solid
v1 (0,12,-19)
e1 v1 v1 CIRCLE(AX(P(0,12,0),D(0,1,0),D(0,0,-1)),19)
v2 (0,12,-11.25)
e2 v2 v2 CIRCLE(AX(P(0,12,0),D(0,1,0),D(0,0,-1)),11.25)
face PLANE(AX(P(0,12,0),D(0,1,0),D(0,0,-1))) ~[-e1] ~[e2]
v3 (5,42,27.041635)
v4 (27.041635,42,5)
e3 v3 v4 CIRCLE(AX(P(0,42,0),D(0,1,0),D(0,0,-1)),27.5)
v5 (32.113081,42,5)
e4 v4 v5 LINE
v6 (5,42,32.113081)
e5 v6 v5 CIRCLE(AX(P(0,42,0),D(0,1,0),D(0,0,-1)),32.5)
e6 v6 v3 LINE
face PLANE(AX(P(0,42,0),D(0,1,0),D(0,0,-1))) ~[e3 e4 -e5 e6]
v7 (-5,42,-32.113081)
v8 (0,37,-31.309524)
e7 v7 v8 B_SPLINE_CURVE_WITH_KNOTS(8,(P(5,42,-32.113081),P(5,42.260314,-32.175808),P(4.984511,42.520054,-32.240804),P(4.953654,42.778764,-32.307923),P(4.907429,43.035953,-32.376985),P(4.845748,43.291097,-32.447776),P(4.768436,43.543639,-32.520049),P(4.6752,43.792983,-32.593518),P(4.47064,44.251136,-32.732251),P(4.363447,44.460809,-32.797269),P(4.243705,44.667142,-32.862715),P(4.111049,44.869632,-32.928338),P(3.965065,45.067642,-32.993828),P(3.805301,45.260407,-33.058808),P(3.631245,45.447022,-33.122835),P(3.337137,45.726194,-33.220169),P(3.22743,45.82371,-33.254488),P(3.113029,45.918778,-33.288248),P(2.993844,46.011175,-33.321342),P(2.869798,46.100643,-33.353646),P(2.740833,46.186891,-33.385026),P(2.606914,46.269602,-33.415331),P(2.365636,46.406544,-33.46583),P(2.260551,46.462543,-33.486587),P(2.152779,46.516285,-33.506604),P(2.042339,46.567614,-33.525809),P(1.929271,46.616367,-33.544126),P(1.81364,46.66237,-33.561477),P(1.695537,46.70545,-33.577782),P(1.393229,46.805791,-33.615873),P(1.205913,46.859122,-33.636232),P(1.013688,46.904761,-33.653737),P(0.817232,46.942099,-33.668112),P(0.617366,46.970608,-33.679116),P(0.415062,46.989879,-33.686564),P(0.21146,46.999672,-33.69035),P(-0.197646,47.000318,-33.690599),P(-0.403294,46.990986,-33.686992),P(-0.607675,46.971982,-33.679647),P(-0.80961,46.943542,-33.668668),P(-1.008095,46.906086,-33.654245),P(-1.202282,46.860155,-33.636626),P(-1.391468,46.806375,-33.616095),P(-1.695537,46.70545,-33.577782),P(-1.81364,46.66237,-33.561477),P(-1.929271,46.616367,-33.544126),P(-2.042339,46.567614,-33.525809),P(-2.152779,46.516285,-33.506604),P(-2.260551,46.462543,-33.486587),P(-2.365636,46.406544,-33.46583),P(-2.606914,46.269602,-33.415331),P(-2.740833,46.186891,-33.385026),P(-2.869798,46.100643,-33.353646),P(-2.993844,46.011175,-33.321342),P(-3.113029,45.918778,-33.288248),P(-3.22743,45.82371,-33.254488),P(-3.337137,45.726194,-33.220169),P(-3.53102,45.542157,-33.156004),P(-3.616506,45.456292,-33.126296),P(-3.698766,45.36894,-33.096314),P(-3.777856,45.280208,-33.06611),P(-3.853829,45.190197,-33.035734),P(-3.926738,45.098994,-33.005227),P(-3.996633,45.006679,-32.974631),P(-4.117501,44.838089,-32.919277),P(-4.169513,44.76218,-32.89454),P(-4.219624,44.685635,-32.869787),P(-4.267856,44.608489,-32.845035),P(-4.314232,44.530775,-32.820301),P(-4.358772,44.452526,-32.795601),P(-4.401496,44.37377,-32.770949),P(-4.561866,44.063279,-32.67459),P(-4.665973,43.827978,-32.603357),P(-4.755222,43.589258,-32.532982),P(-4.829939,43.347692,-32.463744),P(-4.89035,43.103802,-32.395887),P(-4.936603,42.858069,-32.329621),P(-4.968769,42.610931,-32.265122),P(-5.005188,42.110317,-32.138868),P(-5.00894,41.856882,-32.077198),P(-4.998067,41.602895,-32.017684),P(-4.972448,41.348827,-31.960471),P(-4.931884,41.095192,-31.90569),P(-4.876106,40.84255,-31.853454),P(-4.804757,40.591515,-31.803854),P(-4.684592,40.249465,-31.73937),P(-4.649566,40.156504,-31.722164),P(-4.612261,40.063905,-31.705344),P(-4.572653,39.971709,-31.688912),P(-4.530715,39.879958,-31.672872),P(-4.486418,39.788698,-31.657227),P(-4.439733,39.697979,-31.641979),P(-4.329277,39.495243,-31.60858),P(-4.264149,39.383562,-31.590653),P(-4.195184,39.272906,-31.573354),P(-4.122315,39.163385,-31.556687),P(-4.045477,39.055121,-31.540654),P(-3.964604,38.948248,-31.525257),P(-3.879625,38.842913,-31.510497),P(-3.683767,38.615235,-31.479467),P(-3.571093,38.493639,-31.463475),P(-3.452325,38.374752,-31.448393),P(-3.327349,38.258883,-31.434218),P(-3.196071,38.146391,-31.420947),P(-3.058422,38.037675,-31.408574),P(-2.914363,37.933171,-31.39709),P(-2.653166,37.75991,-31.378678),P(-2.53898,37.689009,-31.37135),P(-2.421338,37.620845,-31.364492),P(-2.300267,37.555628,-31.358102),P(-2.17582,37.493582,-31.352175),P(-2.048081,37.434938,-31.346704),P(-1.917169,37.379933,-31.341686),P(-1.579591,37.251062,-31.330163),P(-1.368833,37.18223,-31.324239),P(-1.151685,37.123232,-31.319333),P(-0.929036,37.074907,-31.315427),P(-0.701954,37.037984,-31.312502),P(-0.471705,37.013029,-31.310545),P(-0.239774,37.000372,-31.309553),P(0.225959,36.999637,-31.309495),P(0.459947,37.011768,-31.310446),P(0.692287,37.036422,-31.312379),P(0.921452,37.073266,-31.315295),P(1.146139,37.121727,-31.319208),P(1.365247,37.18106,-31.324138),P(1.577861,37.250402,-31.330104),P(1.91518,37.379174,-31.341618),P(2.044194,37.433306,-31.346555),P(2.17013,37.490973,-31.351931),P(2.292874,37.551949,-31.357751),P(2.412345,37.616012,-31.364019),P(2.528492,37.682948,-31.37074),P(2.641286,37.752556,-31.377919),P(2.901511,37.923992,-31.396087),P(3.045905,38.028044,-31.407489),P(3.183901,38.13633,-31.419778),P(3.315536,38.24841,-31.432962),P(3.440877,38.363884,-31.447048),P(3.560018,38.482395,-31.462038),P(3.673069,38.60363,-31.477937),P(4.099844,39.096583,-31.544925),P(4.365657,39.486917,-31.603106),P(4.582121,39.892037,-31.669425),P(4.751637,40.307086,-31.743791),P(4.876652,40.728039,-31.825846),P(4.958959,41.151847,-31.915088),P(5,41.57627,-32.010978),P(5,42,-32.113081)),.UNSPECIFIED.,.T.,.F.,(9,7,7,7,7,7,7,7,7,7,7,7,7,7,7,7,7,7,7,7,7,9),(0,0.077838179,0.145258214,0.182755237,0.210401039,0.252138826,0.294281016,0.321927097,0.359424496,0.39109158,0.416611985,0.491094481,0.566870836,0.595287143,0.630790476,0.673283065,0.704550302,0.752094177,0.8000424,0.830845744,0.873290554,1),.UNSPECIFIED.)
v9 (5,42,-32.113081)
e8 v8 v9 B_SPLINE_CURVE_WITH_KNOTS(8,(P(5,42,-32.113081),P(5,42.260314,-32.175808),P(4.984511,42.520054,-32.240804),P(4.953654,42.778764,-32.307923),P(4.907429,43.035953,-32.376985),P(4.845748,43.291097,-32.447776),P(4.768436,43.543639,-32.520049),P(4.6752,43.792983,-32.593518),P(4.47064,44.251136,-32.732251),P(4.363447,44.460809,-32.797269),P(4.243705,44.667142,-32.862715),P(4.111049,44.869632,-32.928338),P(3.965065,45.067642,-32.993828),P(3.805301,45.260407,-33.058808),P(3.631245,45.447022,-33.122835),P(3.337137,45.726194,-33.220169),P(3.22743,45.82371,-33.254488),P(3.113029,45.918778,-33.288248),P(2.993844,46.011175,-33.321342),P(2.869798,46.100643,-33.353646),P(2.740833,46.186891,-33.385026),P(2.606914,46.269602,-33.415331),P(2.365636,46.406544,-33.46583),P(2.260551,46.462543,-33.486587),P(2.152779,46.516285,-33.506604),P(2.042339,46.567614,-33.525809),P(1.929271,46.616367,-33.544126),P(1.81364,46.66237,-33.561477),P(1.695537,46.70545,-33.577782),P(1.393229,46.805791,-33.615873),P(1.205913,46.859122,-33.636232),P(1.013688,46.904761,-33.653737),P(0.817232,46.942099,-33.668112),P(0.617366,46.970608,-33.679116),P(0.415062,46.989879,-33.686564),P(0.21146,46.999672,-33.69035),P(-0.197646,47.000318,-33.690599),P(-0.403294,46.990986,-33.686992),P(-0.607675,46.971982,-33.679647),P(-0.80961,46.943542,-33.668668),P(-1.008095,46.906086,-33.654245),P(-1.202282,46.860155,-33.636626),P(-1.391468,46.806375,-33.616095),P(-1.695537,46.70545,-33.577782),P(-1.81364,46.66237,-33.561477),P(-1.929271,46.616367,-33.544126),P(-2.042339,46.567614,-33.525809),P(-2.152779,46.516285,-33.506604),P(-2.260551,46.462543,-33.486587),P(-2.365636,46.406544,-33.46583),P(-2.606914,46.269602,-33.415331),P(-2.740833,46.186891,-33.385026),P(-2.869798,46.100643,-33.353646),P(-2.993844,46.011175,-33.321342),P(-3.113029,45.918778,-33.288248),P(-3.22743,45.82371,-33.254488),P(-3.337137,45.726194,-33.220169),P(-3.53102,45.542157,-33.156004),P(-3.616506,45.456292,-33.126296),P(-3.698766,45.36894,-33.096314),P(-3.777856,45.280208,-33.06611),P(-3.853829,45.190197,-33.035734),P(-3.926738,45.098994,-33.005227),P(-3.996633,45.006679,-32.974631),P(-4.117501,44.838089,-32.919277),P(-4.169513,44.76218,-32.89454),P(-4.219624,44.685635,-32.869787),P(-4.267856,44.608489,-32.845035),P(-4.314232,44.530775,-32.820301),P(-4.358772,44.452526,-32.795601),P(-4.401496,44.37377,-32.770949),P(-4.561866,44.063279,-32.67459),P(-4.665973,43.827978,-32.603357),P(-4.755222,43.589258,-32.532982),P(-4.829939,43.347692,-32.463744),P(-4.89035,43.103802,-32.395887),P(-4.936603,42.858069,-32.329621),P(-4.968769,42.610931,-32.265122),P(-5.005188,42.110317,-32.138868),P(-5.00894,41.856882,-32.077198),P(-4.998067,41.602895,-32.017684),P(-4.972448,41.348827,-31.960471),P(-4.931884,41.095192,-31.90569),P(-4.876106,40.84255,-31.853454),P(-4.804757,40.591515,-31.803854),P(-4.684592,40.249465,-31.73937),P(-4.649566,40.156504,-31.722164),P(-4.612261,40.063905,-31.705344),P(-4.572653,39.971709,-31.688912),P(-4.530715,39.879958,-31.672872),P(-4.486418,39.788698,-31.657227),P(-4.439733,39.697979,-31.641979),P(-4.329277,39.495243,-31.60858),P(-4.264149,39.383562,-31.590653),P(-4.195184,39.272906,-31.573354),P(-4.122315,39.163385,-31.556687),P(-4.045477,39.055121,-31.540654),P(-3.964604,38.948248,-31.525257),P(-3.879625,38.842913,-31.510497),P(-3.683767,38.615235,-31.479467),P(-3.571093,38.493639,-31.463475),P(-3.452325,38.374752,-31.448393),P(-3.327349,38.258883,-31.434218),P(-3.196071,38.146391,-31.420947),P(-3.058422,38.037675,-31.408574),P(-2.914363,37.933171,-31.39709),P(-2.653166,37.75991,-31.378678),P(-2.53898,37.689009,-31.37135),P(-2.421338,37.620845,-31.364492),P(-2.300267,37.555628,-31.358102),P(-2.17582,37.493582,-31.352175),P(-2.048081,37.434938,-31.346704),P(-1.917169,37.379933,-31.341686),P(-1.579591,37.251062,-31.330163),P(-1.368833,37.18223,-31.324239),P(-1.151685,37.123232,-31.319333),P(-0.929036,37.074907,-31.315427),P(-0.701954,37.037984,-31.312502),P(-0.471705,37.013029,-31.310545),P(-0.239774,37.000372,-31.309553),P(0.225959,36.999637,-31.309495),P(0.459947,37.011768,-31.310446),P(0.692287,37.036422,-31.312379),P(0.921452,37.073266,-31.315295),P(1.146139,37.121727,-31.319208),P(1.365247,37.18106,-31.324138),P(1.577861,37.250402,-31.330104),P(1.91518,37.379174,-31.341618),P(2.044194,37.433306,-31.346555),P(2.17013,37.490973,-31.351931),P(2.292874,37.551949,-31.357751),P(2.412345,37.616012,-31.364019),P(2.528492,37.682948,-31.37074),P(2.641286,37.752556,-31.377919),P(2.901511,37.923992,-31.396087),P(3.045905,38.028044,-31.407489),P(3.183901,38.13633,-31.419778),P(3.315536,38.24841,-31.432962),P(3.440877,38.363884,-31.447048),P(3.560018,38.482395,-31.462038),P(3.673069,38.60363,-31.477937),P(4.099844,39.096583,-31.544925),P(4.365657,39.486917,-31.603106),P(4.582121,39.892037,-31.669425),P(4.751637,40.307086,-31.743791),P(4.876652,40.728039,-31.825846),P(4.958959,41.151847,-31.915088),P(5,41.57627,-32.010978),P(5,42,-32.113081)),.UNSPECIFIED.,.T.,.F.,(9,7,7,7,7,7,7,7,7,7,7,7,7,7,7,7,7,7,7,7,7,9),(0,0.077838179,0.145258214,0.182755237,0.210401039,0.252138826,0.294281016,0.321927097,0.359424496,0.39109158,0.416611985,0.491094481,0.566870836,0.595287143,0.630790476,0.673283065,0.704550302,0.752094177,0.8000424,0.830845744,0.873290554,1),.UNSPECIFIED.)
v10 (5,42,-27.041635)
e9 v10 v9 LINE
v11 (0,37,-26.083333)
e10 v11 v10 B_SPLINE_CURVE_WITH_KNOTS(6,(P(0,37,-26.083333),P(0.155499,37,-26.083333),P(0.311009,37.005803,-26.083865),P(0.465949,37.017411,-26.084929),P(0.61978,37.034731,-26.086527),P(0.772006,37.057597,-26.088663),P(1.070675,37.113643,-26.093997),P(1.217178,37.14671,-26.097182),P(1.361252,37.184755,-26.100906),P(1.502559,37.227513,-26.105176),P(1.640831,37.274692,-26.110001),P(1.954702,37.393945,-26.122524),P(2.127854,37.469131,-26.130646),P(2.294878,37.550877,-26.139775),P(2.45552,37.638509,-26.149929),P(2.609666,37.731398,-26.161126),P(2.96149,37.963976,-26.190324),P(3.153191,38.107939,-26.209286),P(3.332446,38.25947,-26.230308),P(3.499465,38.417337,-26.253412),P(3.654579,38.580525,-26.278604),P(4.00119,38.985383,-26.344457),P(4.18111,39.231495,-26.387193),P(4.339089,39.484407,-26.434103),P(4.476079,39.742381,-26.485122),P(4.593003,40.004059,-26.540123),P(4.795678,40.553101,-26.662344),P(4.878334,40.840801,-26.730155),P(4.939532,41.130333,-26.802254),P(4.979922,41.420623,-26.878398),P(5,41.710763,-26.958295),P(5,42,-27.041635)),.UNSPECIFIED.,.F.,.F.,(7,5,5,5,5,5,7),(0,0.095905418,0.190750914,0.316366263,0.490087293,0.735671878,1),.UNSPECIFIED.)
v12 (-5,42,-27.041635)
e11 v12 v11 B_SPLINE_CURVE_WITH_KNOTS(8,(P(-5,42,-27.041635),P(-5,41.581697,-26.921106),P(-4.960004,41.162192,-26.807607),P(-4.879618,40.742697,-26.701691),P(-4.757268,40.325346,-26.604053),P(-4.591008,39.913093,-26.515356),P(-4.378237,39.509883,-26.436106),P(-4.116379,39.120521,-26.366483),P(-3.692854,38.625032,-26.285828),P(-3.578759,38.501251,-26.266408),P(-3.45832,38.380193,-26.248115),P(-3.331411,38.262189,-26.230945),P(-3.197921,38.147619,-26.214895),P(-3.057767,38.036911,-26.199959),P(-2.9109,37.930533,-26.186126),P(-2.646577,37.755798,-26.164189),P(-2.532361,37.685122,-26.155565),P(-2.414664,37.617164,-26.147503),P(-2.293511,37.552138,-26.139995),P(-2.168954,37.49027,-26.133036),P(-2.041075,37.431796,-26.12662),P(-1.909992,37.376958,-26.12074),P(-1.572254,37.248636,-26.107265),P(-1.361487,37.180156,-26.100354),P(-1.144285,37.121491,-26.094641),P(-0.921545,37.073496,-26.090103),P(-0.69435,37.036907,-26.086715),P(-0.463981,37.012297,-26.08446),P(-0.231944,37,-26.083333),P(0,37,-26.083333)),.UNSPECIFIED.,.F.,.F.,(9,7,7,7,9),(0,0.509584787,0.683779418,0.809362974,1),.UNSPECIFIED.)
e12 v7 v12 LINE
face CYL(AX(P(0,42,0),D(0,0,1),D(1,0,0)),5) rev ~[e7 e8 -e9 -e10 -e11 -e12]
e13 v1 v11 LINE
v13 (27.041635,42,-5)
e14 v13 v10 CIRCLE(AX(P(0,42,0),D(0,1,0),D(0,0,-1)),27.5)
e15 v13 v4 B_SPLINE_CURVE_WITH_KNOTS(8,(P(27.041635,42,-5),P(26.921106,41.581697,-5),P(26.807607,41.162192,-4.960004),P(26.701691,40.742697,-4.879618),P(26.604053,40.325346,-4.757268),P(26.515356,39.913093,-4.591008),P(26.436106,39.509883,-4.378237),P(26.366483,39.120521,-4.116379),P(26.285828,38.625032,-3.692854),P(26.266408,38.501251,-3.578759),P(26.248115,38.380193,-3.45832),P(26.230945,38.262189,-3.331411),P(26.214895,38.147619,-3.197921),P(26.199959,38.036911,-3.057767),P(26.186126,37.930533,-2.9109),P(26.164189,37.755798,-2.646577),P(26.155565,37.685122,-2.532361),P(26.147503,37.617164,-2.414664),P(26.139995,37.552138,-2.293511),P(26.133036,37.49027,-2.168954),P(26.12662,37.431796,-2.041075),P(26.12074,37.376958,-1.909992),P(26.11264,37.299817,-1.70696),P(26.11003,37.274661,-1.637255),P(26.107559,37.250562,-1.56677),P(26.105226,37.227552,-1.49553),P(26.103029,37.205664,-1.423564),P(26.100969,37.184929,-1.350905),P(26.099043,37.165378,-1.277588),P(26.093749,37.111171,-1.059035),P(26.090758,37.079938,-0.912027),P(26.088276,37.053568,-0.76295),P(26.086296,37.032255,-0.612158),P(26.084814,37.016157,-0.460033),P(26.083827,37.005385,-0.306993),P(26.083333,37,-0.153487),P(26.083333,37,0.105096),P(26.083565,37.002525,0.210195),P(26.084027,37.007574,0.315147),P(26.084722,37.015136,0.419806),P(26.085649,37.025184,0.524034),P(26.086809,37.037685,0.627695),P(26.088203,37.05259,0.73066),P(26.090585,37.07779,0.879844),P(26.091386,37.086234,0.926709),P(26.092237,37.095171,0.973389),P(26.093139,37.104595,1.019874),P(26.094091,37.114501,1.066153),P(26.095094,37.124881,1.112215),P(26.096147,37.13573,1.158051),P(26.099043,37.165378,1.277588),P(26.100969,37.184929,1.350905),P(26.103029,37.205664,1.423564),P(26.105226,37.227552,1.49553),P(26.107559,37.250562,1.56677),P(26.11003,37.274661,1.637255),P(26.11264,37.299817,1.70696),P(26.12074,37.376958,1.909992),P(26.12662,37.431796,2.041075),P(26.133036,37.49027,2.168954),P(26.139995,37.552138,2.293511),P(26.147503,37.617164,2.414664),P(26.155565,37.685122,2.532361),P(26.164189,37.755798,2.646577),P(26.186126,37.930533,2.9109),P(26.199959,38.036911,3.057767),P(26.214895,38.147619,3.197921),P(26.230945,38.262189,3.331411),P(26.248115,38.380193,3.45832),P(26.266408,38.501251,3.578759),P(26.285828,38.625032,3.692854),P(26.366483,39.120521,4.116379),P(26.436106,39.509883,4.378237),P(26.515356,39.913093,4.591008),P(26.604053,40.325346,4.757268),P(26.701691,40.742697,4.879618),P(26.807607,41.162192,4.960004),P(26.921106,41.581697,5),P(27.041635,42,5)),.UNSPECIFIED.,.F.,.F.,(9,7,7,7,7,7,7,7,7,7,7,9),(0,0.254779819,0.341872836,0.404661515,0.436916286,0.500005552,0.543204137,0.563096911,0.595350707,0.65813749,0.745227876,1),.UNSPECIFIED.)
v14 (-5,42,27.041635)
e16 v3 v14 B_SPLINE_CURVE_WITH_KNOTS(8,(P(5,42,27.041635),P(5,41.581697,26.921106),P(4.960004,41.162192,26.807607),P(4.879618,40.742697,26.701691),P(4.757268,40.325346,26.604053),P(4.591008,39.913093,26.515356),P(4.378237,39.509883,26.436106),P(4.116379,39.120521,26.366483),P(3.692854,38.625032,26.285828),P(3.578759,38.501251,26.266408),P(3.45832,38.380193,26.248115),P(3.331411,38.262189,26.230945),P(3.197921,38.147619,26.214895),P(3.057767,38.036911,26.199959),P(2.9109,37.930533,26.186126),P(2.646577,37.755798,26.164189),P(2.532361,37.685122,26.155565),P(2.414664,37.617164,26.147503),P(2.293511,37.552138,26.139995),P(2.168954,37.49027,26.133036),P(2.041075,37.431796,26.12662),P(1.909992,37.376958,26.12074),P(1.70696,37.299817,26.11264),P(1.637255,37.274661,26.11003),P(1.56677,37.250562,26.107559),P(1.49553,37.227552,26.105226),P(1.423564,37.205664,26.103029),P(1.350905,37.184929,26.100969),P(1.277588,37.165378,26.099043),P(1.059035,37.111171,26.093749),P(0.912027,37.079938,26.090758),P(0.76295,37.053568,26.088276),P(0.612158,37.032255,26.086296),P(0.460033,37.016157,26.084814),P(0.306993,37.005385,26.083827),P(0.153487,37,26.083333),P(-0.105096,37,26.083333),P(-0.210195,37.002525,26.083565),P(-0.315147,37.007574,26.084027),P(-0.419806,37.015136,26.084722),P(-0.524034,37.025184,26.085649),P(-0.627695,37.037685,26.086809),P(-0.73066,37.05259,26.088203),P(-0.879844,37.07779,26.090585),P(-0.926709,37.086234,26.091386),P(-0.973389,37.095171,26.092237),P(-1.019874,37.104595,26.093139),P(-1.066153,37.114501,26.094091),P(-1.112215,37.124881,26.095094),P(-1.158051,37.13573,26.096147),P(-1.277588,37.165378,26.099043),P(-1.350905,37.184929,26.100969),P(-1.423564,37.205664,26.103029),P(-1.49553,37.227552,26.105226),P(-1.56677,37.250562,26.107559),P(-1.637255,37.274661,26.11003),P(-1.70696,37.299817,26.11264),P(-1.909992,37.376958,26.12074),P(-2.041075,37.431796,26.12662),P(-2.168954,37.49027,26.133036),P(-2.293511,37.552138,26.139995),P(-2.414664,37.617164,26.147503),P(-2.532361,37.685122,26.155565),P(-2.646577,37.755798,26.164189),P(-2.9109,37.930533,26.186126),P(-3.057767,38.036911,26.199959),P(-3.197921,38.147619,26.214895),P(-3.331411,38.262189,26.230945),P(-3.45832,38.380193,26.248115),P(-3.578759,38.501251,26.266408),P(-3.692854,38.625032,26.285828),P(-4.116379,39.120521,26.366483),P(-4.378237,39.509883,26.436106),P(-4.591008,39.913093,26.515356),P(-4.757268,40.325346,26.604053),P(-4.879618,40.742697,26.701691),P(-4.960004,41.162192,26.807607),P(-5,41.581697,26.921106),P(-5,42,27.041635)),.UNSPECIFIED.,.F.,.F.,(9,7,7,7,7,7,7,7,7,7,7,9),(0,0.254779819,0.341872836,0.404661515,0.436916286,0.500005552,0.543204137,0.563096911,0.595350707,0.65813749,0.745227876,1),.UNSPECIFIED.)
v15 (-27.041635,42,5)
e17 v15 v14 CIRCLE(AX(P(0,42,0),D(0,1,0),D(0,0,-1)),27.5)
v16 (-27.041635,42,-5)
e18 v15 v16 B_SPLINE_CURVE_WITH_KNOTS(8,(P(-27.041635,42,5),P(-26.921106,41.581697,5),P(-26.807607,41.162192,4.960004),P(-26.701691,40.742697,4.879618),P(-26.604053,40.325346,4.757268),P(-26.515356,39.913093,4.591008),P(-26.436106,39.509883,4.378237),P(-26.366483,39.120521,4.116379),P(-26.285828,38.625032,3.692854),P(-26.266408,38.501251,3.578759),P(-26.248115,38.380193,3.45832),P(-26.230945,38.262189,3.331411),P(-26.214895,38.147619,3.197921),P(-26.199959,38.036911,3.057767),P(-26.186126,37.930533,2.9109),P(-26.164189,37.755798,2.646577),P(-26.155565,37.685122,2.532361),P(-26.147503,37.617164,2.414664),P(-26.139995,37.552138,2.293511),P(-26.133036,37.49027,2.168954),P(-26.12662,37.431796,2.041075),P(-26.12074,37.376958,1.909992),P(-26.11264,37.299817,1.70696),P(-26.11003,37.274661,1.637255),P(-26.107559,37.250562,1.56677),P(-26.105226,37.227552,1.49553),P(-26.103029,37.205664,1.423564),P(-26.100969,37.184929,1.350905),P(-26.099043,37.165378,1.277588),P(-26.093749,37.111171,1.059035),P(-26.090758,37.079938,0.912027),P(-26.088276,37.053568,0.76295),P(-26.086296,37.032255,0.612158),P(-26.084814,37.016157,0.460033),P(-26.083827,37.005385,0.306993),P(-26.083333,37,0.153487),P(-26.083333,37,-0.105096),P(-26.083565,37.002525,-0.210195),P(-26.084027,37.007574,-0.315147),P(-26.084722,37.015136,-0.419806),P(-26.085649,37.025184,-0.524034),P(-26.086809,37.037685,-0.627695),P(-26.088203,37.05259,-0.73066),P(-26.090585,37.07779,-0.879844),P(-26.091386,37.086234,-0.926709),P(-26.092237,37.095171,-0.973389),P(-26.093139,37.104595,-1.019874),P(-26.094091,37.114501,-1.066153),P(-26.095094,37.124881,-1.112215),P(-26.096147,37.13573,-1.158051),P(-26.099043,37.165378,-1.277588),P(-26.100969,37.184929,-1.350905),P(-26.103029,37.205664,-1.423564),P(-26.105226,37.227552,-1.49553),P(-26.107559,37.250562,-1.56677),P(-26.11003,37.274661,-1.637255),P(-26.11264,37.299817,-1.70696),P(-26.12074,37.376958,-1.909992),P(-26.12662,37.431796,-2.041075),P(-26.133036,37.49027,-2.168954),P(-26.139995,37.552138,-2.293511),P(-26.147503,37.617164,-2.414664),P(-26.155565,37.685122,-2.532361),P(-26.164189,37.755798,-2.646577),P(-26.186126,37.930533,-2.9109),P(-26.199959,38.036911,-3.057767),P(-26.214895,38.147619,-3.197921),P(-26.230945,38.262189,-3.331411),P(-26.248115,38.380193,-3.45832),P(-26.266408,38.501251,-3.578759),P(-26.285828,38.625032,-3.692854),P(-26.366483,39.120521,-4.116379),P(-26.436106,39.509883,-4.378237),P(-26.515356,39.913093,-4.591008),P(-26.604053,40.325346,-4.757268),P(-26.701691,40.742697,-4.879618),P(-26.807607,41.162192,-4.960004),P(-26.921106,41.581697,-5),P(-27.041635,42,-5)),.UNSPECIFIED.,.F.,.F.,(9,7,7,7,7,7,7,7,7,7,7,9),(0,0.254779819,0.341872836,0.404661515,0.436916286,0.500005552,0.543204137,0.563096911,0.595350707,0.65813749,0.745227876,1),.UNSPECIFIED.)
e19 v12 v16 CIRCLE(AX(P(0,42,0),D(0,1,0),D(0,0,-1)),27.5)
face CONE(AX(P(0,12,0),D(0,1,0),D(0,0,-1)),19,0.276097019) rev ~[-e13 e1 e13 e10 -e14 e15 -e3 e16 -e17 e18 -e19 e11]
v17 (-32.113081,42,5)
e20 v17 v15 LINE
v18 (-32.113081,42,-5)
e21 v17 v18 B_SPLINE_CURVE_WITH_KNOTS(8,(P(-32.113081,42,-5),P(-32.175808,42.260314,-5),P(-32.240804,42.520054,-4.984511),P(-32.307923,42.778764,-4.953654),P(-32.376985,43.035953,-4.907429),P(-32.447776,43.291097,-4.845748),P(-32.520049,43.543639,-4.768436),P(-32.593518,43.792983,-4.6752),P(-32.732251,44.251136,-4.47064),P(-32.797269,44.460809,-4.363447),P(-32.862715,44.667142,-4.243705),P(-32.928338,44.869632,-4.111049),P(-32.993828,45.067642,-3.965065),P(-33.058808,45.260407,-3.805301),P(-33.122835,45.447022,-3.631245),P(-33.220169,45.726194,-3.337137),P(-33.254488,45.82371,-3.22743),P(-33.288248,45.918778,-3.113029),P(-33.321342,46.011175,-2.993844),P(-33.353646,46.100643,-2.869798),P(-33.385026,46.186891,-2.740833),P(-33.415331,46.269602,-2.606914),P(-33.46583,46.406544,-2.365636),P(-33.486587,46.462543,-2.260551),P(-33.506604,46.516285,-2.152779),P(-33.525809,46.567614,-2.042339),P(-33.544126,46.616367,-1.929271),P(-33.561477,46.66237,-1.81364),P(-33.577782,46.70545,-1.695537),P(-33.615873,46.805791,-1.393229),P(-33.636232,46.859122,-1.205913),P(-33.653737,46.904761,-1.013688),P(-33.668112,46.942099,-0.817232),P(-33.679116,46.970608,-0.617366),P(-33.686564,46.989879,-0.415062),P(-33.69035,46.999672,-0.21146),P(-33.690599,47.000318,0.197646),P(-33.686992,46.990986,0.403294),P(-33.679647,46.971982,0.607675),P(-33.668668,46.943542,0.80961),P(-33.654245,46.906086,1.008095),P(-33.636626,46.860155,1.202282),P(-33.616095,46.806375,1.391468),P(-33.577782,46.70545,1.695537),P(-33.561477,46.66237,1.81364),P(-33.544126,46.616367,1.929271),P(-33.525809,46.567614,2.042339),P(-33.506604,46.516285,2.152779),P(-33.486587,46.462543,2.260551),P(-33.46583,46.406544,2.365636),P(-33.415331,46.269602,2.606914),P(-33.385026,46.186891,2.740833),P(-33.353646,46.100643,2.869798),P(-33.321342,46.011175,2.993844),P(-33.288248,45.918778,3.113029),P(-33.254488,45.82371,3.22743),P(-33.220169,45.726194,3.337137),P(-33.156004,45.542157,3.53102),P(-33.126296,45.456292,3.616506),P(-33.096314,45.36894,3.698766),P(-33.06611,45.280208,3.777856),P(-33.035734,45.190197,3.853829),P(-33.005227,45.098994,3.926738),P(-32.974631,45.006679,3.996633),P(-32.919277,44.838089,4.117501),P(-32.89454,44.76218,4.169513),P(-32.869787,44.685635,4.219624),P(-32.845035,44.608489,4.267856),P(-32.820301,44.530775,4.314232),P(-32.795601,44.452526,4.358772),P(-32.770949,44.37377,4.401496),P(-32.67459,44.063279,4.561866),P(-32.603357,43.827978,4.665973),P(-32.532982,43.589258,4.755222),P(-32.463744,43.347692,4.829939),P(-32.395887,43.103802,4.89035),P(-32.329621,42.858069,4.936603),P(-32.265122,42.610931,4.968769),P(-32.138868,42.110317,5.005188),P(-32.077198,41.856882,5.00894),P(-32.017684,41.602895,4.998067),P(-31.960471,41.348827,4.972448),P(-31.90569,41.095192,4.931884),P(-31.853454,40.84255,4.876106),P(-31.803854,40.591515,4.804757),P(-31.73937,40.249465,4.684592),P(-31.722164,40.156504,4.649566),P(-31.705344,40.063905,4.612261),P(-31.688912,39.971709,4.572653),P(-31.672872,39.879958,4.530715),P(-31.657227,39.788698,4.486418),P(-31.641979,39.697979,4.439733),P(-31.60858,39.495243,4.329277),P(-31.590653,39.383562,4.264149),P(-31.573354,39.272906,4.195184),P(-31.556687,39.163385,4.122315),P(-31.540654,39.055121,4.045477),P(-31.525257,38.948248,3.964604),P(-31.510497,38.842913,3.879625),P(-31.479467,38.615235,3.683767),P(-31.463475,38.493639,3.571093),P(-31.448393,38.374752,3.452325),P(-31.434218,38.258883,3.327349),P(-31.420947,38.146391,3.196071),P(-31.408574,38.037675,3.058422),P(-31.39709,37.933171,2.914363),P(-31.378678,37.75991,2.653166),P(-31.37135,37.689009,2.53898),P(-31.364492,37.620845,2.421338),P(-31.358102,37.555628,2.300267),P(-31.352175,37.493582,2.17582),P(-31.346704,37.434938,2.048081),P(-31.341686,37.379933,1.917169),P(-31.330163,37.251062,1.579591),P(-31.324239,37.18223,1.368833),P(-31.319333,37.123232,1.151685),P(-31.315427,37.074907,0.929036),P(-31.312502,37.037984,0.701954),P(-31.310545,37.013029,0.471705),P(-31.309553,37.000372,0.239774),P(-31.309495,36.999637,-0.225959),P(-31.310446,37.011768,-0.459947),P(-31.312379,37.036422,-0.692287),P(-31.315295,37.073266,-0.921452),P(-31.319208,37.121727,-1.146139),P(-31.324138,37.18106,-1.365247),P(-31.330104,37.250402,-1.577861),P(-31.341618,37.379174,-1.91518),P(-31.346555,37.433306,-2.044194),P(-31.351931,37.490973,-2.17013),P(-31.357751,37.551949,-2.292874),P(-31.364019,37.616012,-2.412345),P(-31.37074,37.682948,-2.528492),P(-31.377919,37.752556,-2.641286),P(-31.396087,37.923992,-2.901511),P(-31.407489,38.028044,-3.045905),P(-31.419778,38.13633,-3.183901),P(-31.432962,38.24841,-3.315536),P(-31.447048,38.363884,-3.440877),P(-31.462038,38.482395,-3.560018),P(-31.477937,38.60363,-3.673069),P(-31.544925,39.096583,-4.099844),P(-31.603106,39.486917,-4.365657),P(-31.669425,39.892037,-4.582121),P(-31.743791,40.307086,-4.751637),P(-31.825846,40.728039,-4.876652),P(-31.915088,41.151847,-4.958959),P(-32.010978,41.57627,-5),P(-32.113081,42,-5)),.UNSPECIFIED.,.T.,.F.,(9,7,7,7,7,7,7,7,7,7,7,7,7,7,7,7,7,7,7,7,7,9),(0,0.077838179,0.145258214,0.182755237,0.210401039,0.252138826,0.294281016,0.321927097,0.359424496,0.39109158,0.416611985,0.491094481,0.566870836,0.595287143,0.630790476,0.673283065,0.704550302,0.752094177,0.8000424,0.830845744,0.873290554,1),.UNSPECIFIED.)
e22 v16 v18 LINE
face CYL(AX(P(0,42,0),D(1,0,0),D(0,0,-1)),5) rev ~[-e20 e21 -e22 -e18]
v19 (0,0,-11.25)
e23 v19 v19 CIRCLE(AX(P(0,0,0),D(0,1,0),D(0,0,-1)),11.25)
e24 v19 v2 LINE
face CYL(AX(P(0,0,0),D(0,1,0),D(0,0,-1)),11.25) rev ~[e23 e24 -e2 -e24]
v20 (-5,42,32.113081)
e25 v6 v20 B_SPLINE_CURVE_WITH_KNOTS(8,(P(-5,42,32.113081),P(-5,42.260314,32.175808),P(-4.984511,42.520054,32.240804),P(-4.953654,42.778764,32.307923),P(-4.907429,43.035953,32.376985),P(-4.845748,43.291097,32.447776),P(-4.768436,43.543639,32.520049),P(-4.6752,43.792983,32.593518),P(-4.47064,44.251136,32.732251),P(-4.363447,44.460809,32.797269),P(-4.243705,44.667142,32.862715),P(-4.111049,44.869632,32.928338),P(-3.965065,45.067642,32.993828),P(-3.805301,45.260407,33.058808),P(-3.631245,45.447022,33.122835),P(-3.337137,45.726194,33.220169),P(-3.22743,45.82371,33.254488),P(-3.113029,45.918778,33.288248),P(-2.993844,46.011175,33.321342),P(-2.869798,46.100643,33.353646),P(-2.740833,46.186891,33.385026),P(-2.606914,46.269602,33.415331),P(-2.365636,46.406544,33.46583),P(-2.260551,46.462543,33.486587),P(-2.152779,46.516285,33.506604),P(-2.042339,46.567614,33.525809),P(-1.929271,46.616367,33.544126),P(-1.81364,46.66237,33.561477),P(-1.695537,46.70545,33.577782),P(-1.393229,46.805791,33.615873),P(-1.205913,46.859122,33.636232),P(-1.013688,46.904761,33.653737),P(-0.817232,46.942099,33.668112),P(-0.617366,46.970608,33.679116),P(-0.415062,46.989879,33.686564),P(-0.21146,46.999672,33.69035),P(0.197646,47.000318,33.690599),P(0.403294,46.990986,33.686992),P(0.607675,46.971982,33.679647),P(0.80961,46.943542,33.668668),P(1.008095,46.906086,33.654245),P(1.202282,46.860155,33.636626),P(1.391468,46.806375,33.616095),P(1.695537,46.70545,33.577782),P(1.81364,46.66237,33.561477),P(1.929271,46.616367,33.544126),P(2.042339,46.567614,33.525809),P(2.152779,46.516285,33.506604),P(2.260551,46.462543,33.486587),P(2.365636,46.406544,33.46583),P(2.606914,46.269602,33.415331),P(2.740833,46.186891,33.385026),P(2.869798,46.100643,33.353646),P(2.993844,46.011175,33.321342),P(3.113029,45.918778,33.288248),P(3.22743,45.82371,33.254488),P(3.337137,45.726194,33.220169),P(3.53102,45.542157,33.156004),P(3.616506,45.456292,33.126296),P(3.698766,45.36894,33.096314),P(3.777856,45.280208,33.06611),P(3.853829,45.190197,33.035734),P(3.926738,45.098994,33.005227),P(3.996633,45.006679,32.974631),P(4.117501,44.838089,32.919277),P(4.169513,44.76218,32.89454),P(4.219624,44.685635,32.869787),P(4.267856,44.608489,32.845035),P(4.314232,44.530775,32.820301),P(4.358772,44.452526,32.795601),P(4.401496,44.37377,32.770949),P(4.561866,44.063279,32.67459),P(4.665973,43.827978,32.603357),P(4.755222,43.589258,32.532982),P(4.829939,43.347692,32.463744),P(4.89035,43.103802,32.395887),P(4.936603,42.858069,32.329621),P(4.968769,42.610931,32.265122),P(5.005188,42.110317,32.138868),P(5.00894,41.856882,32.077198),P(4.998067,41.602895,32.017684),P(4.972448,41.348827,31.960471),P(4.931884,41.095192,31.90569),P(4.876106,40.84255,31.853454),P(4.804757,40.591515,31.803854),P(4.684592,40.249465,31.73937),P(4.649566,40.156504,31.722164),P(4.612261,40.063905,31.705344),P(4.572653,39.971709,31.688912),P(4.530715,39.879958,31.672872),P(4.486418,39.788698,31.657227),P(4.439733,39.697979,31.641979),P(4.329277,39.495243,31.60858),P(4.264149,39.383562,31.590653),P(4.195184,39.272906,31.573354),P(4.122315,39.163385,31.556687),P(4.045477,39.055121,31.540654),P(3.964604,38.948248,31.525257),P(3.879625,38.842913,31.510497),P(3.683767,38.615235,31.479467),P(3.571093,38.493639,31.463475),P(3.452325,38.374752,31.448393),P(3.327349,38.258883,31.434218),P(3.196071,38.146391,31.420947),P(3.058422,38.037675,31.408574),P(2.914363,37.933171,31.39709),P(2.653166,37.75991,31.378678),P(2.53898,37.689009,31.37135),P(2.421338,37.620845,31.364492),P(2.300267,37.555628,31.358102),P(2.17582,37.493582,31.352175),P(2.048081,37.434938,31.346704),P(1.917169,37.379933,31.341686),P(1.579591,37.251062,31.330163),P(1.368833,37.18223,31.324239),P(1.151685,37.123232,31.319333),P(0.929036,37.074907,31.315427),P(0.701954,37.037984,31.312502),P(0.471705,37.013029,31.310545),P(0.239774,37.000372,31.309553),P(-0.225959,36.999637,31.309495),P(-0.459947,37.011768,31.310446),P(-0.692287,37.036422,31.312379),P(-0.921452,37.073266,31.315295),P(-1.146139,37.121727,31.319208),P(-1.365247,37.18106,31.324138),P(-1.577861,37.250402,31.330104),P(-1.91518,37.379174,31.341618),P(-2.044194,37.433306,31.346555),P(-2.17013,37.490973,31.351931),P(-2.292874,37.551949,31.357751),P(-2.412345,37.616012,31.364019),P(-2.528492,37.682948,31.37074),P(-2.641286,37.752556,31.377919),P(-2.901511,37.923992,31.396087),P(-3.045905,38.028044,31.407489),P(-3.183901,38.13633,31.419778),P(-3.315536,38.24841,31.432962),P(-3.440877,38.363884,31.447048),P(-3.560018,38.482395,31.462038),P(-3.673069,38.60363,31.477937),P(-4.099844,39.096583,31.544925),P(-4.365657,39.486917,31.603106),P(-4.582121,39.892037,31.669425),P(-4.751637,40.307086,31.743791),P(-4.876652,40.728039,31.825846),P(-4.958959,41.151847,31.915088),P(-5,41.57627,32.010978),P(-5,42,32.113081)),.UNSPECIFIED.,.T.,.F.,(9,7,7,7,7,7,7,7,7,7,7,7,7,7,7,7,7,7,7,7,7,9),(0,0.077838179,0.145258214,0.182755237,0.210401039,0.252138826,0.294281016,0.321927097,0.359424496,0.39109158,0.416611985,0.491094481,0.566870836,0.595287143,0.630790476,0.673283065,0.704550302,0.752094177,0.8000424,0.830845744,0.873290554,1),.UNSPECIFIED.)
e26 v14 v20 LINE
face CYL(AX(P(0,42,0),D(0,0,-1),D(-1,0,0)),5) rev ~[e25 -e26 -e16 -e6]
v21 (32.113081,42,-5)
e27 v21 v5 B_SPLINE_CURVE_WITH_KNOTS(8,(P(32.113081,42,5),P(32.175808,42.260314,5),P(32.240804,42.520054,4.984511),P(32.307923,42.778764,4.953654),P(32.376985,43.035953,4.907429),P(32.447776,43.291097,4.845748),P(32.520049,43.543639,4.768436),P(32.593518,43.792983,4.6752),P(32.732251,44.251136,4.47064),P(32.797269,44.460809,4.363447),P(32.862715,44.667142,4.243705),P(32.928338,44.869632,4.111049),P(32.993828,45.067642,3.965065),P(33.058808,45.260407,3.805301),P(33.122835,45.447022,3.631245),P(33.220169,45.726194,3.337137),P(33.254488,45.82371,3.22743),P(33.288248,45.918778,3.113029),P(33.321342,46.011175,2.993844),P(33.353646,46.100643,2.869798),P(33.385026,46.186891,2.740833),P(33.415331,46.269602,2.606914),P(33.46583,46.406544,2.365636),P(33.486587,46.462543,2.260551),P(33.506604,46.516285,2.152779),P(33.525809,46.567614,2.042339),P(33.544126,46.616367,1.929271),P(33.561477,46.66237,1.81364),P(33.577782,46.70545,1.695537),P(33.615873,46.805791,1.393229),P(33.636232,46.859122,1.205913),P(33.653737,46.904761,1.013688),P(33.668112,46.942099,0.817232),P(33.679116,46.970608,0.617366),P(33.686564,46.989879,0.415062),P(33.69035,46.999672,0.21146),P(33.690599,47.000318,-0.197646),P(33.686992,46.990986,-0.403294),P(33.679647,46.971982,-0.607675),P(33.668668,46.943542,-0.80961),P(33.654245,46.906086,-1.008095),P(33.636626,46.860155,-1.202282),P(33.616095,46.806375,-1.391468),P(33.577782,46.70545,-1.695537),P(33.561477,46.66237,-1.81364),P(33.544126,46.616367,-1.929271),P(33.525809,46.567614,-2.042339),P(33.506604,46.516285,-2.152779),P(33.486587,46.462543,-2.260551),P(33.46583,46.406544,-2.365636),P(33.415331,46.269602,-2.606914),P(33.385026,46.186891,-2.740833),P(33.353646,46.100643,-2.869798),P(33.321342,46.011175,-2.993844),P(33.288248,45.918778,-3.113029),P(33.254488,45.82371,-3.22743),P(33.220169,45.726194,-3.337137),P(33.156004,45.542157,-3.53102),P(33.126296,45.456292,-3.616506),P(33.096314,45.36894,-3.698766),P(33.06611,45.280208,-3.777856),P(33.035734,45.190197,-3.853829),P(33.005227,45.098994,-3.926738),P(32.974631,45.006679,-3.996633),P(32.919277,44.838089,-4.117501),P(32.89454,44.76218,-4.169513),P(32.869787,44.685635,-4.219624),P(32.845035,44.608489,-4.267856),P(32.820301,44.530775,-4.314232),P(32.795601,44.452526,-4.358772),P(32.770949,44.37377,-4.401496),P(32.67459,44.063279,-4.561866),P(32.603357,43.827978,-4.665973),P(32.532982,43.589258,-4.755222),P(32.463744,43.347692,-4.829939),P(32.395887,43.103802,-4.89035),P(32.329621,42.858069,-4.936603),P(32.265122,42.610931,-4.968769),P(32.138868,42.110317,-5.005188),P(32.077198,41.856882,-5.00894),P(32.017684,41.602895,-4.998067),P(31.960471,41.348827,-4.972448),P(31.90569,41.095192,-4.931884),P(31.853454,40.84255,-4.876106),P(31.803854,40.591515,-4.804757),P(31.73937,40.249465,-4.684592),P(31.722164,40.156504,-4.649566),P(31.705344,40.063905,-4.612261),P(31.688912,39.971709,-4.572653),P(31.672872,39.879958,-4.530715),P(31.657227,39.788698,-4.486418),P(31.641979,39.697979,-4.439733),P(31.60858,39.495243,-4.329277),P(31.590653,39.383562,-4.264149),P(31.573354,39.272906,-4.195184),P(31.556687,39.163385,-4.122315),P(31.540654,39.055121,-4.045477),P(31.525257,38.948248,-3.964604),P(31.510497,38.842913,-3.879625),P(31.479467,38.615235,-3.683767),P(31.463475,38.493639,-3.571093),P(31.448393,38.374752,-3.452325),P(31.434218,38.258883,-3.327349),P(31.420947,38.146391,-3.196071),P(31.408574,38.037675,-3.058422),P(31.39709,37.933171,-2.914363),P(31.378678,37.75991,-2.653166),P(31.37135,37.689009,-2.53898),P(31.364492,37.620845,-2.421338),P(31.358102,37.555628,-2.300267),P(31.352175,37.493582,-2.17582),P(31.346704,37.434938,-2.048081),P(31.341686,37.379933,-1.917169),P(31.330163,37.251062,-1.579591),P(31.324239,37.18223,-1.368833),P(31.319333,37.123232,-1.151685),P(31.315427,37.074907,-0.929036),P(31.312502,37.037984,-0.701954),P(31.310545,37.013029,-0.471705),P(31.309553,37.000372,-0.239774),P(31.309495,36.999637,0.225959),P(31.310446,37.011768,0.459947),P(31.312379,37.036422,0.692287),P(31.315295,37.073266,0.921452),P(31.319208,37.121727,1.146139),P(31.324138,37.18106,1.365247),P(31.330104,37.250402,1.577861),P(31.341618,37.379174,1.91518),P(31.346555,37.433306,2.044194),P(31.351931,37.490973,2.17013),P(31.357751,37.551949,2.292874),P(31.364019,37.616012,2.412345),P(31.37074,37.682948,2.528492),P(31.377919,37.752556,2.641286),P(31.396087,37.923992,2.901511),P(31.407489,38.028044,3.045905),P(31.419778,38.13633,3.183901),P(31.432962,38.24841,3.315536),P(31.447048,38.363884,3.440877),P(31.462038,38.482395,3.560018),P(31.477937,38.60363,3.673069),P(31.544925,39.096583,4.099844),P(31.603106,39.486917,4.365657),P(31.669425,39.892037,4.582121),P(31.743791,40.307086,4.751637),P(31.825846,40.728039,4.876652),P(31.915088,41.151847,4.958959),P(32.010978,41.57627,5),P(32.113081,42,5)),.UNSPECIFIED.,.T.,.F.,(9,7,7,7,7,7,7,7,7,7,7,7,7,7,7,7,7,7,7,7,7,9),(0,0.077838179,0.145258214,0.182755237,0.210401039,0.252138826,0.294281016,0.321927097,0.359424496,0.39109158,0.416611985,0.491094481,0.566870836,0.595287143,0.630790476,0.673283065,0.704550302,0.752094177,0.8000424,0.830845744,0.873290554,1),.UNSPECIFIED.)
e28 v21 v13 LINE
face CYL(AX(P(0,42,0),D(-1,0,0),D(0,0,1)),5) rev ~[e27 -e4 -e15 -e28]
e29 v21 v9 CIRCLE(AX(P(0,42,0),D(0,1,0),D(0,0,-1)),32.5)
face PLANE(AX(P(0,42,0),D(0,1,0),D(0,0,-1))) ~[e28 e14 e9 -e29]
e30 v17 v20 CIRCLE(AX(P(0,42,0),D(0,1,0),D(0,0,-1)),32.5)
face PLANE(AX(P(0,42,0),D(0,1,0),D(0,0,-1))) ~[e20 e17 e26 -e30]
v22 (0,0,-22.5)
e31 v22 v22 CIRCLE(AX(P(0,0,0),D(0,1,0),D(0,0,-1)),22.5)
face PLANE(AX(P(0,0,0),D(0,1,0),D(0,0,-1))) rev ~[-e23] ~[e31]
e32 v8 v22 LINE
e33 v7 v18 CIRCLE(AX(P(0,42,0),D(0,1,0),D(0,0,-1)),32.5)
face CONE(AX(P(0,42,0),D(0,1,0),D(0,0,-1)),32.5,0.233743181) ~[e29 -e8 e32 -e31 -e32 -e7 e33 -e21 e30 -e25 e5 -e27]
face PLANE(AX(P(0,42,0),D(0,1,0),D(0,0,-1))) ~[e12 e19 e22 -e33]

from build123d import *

# Parameters (mm, degrees)
CUT_EXTRUDE1_REACH = 64.262
SKETCH5_R          = 5
CIRPATTERN1_COUNT  = 4


with BuildPart() as part:
    # Sketch4 → Revolve1 (revolve)
    with BuildSketch(Plane.XY, mode=Mode.PRIVATE) as revolve1_sk:
        Polygon((11.25, 0), (11.25, 12), (19, 12), (27.5, 42), (32.5, 42), (22.5, 0), align=None)
    revolve(revolve1_sk.sketch.rotate(Axis((0, 0, 0), (0, 1, 0)), 90), axis=Axis((0, 0, 0), (0, 1, 0)))

    # Cut-Extrude1: up to this cone (the profile starts inside it)
    cut_extrude1_end = Plane(origin=(0, 42, 0), z_dir=(0, 1, 0)) * Cone(9.342380952, 55.657619048, 194.524, mode=Mode.PRIVATE)
    # Sketch5 → Cut-Extrude1 (cut, up to the surface)
    with BuildSketch(Plane.XY, mode=Mode.PRIVATE) as cut_extrude1_sk1:
        with Locations((0, 42)):
            Circle(SKETCH5_R)
    cut_extrude1_tool1 = extrude(cut_extrude1_sk1.sketch, amount=-CUT_EXTRUDE1_REACH, mode=Mode.PRIVATE) & cut_extrude1_end
    cut_extrude1 = cut_extrude1_tool1.solids().sort_by_distance((0, 42, 0))[0]
    add(cut_extrude1, mode=Mode.SUBTRACT)

    # CirPattern1: Cut-Extrude1 ×4 about axis
    cirpattern1_axis = Axis((0, 42, 0), (0, -1, 0))
    for i in range(1, CIRPATTERN1_COUNT):
        add(cut_extrude1.rotate(cirpattern1_axis, i * 360 / CIRPATTERN1_COUNT), mode=Mode.SUBTRACT)


solid = part.part
